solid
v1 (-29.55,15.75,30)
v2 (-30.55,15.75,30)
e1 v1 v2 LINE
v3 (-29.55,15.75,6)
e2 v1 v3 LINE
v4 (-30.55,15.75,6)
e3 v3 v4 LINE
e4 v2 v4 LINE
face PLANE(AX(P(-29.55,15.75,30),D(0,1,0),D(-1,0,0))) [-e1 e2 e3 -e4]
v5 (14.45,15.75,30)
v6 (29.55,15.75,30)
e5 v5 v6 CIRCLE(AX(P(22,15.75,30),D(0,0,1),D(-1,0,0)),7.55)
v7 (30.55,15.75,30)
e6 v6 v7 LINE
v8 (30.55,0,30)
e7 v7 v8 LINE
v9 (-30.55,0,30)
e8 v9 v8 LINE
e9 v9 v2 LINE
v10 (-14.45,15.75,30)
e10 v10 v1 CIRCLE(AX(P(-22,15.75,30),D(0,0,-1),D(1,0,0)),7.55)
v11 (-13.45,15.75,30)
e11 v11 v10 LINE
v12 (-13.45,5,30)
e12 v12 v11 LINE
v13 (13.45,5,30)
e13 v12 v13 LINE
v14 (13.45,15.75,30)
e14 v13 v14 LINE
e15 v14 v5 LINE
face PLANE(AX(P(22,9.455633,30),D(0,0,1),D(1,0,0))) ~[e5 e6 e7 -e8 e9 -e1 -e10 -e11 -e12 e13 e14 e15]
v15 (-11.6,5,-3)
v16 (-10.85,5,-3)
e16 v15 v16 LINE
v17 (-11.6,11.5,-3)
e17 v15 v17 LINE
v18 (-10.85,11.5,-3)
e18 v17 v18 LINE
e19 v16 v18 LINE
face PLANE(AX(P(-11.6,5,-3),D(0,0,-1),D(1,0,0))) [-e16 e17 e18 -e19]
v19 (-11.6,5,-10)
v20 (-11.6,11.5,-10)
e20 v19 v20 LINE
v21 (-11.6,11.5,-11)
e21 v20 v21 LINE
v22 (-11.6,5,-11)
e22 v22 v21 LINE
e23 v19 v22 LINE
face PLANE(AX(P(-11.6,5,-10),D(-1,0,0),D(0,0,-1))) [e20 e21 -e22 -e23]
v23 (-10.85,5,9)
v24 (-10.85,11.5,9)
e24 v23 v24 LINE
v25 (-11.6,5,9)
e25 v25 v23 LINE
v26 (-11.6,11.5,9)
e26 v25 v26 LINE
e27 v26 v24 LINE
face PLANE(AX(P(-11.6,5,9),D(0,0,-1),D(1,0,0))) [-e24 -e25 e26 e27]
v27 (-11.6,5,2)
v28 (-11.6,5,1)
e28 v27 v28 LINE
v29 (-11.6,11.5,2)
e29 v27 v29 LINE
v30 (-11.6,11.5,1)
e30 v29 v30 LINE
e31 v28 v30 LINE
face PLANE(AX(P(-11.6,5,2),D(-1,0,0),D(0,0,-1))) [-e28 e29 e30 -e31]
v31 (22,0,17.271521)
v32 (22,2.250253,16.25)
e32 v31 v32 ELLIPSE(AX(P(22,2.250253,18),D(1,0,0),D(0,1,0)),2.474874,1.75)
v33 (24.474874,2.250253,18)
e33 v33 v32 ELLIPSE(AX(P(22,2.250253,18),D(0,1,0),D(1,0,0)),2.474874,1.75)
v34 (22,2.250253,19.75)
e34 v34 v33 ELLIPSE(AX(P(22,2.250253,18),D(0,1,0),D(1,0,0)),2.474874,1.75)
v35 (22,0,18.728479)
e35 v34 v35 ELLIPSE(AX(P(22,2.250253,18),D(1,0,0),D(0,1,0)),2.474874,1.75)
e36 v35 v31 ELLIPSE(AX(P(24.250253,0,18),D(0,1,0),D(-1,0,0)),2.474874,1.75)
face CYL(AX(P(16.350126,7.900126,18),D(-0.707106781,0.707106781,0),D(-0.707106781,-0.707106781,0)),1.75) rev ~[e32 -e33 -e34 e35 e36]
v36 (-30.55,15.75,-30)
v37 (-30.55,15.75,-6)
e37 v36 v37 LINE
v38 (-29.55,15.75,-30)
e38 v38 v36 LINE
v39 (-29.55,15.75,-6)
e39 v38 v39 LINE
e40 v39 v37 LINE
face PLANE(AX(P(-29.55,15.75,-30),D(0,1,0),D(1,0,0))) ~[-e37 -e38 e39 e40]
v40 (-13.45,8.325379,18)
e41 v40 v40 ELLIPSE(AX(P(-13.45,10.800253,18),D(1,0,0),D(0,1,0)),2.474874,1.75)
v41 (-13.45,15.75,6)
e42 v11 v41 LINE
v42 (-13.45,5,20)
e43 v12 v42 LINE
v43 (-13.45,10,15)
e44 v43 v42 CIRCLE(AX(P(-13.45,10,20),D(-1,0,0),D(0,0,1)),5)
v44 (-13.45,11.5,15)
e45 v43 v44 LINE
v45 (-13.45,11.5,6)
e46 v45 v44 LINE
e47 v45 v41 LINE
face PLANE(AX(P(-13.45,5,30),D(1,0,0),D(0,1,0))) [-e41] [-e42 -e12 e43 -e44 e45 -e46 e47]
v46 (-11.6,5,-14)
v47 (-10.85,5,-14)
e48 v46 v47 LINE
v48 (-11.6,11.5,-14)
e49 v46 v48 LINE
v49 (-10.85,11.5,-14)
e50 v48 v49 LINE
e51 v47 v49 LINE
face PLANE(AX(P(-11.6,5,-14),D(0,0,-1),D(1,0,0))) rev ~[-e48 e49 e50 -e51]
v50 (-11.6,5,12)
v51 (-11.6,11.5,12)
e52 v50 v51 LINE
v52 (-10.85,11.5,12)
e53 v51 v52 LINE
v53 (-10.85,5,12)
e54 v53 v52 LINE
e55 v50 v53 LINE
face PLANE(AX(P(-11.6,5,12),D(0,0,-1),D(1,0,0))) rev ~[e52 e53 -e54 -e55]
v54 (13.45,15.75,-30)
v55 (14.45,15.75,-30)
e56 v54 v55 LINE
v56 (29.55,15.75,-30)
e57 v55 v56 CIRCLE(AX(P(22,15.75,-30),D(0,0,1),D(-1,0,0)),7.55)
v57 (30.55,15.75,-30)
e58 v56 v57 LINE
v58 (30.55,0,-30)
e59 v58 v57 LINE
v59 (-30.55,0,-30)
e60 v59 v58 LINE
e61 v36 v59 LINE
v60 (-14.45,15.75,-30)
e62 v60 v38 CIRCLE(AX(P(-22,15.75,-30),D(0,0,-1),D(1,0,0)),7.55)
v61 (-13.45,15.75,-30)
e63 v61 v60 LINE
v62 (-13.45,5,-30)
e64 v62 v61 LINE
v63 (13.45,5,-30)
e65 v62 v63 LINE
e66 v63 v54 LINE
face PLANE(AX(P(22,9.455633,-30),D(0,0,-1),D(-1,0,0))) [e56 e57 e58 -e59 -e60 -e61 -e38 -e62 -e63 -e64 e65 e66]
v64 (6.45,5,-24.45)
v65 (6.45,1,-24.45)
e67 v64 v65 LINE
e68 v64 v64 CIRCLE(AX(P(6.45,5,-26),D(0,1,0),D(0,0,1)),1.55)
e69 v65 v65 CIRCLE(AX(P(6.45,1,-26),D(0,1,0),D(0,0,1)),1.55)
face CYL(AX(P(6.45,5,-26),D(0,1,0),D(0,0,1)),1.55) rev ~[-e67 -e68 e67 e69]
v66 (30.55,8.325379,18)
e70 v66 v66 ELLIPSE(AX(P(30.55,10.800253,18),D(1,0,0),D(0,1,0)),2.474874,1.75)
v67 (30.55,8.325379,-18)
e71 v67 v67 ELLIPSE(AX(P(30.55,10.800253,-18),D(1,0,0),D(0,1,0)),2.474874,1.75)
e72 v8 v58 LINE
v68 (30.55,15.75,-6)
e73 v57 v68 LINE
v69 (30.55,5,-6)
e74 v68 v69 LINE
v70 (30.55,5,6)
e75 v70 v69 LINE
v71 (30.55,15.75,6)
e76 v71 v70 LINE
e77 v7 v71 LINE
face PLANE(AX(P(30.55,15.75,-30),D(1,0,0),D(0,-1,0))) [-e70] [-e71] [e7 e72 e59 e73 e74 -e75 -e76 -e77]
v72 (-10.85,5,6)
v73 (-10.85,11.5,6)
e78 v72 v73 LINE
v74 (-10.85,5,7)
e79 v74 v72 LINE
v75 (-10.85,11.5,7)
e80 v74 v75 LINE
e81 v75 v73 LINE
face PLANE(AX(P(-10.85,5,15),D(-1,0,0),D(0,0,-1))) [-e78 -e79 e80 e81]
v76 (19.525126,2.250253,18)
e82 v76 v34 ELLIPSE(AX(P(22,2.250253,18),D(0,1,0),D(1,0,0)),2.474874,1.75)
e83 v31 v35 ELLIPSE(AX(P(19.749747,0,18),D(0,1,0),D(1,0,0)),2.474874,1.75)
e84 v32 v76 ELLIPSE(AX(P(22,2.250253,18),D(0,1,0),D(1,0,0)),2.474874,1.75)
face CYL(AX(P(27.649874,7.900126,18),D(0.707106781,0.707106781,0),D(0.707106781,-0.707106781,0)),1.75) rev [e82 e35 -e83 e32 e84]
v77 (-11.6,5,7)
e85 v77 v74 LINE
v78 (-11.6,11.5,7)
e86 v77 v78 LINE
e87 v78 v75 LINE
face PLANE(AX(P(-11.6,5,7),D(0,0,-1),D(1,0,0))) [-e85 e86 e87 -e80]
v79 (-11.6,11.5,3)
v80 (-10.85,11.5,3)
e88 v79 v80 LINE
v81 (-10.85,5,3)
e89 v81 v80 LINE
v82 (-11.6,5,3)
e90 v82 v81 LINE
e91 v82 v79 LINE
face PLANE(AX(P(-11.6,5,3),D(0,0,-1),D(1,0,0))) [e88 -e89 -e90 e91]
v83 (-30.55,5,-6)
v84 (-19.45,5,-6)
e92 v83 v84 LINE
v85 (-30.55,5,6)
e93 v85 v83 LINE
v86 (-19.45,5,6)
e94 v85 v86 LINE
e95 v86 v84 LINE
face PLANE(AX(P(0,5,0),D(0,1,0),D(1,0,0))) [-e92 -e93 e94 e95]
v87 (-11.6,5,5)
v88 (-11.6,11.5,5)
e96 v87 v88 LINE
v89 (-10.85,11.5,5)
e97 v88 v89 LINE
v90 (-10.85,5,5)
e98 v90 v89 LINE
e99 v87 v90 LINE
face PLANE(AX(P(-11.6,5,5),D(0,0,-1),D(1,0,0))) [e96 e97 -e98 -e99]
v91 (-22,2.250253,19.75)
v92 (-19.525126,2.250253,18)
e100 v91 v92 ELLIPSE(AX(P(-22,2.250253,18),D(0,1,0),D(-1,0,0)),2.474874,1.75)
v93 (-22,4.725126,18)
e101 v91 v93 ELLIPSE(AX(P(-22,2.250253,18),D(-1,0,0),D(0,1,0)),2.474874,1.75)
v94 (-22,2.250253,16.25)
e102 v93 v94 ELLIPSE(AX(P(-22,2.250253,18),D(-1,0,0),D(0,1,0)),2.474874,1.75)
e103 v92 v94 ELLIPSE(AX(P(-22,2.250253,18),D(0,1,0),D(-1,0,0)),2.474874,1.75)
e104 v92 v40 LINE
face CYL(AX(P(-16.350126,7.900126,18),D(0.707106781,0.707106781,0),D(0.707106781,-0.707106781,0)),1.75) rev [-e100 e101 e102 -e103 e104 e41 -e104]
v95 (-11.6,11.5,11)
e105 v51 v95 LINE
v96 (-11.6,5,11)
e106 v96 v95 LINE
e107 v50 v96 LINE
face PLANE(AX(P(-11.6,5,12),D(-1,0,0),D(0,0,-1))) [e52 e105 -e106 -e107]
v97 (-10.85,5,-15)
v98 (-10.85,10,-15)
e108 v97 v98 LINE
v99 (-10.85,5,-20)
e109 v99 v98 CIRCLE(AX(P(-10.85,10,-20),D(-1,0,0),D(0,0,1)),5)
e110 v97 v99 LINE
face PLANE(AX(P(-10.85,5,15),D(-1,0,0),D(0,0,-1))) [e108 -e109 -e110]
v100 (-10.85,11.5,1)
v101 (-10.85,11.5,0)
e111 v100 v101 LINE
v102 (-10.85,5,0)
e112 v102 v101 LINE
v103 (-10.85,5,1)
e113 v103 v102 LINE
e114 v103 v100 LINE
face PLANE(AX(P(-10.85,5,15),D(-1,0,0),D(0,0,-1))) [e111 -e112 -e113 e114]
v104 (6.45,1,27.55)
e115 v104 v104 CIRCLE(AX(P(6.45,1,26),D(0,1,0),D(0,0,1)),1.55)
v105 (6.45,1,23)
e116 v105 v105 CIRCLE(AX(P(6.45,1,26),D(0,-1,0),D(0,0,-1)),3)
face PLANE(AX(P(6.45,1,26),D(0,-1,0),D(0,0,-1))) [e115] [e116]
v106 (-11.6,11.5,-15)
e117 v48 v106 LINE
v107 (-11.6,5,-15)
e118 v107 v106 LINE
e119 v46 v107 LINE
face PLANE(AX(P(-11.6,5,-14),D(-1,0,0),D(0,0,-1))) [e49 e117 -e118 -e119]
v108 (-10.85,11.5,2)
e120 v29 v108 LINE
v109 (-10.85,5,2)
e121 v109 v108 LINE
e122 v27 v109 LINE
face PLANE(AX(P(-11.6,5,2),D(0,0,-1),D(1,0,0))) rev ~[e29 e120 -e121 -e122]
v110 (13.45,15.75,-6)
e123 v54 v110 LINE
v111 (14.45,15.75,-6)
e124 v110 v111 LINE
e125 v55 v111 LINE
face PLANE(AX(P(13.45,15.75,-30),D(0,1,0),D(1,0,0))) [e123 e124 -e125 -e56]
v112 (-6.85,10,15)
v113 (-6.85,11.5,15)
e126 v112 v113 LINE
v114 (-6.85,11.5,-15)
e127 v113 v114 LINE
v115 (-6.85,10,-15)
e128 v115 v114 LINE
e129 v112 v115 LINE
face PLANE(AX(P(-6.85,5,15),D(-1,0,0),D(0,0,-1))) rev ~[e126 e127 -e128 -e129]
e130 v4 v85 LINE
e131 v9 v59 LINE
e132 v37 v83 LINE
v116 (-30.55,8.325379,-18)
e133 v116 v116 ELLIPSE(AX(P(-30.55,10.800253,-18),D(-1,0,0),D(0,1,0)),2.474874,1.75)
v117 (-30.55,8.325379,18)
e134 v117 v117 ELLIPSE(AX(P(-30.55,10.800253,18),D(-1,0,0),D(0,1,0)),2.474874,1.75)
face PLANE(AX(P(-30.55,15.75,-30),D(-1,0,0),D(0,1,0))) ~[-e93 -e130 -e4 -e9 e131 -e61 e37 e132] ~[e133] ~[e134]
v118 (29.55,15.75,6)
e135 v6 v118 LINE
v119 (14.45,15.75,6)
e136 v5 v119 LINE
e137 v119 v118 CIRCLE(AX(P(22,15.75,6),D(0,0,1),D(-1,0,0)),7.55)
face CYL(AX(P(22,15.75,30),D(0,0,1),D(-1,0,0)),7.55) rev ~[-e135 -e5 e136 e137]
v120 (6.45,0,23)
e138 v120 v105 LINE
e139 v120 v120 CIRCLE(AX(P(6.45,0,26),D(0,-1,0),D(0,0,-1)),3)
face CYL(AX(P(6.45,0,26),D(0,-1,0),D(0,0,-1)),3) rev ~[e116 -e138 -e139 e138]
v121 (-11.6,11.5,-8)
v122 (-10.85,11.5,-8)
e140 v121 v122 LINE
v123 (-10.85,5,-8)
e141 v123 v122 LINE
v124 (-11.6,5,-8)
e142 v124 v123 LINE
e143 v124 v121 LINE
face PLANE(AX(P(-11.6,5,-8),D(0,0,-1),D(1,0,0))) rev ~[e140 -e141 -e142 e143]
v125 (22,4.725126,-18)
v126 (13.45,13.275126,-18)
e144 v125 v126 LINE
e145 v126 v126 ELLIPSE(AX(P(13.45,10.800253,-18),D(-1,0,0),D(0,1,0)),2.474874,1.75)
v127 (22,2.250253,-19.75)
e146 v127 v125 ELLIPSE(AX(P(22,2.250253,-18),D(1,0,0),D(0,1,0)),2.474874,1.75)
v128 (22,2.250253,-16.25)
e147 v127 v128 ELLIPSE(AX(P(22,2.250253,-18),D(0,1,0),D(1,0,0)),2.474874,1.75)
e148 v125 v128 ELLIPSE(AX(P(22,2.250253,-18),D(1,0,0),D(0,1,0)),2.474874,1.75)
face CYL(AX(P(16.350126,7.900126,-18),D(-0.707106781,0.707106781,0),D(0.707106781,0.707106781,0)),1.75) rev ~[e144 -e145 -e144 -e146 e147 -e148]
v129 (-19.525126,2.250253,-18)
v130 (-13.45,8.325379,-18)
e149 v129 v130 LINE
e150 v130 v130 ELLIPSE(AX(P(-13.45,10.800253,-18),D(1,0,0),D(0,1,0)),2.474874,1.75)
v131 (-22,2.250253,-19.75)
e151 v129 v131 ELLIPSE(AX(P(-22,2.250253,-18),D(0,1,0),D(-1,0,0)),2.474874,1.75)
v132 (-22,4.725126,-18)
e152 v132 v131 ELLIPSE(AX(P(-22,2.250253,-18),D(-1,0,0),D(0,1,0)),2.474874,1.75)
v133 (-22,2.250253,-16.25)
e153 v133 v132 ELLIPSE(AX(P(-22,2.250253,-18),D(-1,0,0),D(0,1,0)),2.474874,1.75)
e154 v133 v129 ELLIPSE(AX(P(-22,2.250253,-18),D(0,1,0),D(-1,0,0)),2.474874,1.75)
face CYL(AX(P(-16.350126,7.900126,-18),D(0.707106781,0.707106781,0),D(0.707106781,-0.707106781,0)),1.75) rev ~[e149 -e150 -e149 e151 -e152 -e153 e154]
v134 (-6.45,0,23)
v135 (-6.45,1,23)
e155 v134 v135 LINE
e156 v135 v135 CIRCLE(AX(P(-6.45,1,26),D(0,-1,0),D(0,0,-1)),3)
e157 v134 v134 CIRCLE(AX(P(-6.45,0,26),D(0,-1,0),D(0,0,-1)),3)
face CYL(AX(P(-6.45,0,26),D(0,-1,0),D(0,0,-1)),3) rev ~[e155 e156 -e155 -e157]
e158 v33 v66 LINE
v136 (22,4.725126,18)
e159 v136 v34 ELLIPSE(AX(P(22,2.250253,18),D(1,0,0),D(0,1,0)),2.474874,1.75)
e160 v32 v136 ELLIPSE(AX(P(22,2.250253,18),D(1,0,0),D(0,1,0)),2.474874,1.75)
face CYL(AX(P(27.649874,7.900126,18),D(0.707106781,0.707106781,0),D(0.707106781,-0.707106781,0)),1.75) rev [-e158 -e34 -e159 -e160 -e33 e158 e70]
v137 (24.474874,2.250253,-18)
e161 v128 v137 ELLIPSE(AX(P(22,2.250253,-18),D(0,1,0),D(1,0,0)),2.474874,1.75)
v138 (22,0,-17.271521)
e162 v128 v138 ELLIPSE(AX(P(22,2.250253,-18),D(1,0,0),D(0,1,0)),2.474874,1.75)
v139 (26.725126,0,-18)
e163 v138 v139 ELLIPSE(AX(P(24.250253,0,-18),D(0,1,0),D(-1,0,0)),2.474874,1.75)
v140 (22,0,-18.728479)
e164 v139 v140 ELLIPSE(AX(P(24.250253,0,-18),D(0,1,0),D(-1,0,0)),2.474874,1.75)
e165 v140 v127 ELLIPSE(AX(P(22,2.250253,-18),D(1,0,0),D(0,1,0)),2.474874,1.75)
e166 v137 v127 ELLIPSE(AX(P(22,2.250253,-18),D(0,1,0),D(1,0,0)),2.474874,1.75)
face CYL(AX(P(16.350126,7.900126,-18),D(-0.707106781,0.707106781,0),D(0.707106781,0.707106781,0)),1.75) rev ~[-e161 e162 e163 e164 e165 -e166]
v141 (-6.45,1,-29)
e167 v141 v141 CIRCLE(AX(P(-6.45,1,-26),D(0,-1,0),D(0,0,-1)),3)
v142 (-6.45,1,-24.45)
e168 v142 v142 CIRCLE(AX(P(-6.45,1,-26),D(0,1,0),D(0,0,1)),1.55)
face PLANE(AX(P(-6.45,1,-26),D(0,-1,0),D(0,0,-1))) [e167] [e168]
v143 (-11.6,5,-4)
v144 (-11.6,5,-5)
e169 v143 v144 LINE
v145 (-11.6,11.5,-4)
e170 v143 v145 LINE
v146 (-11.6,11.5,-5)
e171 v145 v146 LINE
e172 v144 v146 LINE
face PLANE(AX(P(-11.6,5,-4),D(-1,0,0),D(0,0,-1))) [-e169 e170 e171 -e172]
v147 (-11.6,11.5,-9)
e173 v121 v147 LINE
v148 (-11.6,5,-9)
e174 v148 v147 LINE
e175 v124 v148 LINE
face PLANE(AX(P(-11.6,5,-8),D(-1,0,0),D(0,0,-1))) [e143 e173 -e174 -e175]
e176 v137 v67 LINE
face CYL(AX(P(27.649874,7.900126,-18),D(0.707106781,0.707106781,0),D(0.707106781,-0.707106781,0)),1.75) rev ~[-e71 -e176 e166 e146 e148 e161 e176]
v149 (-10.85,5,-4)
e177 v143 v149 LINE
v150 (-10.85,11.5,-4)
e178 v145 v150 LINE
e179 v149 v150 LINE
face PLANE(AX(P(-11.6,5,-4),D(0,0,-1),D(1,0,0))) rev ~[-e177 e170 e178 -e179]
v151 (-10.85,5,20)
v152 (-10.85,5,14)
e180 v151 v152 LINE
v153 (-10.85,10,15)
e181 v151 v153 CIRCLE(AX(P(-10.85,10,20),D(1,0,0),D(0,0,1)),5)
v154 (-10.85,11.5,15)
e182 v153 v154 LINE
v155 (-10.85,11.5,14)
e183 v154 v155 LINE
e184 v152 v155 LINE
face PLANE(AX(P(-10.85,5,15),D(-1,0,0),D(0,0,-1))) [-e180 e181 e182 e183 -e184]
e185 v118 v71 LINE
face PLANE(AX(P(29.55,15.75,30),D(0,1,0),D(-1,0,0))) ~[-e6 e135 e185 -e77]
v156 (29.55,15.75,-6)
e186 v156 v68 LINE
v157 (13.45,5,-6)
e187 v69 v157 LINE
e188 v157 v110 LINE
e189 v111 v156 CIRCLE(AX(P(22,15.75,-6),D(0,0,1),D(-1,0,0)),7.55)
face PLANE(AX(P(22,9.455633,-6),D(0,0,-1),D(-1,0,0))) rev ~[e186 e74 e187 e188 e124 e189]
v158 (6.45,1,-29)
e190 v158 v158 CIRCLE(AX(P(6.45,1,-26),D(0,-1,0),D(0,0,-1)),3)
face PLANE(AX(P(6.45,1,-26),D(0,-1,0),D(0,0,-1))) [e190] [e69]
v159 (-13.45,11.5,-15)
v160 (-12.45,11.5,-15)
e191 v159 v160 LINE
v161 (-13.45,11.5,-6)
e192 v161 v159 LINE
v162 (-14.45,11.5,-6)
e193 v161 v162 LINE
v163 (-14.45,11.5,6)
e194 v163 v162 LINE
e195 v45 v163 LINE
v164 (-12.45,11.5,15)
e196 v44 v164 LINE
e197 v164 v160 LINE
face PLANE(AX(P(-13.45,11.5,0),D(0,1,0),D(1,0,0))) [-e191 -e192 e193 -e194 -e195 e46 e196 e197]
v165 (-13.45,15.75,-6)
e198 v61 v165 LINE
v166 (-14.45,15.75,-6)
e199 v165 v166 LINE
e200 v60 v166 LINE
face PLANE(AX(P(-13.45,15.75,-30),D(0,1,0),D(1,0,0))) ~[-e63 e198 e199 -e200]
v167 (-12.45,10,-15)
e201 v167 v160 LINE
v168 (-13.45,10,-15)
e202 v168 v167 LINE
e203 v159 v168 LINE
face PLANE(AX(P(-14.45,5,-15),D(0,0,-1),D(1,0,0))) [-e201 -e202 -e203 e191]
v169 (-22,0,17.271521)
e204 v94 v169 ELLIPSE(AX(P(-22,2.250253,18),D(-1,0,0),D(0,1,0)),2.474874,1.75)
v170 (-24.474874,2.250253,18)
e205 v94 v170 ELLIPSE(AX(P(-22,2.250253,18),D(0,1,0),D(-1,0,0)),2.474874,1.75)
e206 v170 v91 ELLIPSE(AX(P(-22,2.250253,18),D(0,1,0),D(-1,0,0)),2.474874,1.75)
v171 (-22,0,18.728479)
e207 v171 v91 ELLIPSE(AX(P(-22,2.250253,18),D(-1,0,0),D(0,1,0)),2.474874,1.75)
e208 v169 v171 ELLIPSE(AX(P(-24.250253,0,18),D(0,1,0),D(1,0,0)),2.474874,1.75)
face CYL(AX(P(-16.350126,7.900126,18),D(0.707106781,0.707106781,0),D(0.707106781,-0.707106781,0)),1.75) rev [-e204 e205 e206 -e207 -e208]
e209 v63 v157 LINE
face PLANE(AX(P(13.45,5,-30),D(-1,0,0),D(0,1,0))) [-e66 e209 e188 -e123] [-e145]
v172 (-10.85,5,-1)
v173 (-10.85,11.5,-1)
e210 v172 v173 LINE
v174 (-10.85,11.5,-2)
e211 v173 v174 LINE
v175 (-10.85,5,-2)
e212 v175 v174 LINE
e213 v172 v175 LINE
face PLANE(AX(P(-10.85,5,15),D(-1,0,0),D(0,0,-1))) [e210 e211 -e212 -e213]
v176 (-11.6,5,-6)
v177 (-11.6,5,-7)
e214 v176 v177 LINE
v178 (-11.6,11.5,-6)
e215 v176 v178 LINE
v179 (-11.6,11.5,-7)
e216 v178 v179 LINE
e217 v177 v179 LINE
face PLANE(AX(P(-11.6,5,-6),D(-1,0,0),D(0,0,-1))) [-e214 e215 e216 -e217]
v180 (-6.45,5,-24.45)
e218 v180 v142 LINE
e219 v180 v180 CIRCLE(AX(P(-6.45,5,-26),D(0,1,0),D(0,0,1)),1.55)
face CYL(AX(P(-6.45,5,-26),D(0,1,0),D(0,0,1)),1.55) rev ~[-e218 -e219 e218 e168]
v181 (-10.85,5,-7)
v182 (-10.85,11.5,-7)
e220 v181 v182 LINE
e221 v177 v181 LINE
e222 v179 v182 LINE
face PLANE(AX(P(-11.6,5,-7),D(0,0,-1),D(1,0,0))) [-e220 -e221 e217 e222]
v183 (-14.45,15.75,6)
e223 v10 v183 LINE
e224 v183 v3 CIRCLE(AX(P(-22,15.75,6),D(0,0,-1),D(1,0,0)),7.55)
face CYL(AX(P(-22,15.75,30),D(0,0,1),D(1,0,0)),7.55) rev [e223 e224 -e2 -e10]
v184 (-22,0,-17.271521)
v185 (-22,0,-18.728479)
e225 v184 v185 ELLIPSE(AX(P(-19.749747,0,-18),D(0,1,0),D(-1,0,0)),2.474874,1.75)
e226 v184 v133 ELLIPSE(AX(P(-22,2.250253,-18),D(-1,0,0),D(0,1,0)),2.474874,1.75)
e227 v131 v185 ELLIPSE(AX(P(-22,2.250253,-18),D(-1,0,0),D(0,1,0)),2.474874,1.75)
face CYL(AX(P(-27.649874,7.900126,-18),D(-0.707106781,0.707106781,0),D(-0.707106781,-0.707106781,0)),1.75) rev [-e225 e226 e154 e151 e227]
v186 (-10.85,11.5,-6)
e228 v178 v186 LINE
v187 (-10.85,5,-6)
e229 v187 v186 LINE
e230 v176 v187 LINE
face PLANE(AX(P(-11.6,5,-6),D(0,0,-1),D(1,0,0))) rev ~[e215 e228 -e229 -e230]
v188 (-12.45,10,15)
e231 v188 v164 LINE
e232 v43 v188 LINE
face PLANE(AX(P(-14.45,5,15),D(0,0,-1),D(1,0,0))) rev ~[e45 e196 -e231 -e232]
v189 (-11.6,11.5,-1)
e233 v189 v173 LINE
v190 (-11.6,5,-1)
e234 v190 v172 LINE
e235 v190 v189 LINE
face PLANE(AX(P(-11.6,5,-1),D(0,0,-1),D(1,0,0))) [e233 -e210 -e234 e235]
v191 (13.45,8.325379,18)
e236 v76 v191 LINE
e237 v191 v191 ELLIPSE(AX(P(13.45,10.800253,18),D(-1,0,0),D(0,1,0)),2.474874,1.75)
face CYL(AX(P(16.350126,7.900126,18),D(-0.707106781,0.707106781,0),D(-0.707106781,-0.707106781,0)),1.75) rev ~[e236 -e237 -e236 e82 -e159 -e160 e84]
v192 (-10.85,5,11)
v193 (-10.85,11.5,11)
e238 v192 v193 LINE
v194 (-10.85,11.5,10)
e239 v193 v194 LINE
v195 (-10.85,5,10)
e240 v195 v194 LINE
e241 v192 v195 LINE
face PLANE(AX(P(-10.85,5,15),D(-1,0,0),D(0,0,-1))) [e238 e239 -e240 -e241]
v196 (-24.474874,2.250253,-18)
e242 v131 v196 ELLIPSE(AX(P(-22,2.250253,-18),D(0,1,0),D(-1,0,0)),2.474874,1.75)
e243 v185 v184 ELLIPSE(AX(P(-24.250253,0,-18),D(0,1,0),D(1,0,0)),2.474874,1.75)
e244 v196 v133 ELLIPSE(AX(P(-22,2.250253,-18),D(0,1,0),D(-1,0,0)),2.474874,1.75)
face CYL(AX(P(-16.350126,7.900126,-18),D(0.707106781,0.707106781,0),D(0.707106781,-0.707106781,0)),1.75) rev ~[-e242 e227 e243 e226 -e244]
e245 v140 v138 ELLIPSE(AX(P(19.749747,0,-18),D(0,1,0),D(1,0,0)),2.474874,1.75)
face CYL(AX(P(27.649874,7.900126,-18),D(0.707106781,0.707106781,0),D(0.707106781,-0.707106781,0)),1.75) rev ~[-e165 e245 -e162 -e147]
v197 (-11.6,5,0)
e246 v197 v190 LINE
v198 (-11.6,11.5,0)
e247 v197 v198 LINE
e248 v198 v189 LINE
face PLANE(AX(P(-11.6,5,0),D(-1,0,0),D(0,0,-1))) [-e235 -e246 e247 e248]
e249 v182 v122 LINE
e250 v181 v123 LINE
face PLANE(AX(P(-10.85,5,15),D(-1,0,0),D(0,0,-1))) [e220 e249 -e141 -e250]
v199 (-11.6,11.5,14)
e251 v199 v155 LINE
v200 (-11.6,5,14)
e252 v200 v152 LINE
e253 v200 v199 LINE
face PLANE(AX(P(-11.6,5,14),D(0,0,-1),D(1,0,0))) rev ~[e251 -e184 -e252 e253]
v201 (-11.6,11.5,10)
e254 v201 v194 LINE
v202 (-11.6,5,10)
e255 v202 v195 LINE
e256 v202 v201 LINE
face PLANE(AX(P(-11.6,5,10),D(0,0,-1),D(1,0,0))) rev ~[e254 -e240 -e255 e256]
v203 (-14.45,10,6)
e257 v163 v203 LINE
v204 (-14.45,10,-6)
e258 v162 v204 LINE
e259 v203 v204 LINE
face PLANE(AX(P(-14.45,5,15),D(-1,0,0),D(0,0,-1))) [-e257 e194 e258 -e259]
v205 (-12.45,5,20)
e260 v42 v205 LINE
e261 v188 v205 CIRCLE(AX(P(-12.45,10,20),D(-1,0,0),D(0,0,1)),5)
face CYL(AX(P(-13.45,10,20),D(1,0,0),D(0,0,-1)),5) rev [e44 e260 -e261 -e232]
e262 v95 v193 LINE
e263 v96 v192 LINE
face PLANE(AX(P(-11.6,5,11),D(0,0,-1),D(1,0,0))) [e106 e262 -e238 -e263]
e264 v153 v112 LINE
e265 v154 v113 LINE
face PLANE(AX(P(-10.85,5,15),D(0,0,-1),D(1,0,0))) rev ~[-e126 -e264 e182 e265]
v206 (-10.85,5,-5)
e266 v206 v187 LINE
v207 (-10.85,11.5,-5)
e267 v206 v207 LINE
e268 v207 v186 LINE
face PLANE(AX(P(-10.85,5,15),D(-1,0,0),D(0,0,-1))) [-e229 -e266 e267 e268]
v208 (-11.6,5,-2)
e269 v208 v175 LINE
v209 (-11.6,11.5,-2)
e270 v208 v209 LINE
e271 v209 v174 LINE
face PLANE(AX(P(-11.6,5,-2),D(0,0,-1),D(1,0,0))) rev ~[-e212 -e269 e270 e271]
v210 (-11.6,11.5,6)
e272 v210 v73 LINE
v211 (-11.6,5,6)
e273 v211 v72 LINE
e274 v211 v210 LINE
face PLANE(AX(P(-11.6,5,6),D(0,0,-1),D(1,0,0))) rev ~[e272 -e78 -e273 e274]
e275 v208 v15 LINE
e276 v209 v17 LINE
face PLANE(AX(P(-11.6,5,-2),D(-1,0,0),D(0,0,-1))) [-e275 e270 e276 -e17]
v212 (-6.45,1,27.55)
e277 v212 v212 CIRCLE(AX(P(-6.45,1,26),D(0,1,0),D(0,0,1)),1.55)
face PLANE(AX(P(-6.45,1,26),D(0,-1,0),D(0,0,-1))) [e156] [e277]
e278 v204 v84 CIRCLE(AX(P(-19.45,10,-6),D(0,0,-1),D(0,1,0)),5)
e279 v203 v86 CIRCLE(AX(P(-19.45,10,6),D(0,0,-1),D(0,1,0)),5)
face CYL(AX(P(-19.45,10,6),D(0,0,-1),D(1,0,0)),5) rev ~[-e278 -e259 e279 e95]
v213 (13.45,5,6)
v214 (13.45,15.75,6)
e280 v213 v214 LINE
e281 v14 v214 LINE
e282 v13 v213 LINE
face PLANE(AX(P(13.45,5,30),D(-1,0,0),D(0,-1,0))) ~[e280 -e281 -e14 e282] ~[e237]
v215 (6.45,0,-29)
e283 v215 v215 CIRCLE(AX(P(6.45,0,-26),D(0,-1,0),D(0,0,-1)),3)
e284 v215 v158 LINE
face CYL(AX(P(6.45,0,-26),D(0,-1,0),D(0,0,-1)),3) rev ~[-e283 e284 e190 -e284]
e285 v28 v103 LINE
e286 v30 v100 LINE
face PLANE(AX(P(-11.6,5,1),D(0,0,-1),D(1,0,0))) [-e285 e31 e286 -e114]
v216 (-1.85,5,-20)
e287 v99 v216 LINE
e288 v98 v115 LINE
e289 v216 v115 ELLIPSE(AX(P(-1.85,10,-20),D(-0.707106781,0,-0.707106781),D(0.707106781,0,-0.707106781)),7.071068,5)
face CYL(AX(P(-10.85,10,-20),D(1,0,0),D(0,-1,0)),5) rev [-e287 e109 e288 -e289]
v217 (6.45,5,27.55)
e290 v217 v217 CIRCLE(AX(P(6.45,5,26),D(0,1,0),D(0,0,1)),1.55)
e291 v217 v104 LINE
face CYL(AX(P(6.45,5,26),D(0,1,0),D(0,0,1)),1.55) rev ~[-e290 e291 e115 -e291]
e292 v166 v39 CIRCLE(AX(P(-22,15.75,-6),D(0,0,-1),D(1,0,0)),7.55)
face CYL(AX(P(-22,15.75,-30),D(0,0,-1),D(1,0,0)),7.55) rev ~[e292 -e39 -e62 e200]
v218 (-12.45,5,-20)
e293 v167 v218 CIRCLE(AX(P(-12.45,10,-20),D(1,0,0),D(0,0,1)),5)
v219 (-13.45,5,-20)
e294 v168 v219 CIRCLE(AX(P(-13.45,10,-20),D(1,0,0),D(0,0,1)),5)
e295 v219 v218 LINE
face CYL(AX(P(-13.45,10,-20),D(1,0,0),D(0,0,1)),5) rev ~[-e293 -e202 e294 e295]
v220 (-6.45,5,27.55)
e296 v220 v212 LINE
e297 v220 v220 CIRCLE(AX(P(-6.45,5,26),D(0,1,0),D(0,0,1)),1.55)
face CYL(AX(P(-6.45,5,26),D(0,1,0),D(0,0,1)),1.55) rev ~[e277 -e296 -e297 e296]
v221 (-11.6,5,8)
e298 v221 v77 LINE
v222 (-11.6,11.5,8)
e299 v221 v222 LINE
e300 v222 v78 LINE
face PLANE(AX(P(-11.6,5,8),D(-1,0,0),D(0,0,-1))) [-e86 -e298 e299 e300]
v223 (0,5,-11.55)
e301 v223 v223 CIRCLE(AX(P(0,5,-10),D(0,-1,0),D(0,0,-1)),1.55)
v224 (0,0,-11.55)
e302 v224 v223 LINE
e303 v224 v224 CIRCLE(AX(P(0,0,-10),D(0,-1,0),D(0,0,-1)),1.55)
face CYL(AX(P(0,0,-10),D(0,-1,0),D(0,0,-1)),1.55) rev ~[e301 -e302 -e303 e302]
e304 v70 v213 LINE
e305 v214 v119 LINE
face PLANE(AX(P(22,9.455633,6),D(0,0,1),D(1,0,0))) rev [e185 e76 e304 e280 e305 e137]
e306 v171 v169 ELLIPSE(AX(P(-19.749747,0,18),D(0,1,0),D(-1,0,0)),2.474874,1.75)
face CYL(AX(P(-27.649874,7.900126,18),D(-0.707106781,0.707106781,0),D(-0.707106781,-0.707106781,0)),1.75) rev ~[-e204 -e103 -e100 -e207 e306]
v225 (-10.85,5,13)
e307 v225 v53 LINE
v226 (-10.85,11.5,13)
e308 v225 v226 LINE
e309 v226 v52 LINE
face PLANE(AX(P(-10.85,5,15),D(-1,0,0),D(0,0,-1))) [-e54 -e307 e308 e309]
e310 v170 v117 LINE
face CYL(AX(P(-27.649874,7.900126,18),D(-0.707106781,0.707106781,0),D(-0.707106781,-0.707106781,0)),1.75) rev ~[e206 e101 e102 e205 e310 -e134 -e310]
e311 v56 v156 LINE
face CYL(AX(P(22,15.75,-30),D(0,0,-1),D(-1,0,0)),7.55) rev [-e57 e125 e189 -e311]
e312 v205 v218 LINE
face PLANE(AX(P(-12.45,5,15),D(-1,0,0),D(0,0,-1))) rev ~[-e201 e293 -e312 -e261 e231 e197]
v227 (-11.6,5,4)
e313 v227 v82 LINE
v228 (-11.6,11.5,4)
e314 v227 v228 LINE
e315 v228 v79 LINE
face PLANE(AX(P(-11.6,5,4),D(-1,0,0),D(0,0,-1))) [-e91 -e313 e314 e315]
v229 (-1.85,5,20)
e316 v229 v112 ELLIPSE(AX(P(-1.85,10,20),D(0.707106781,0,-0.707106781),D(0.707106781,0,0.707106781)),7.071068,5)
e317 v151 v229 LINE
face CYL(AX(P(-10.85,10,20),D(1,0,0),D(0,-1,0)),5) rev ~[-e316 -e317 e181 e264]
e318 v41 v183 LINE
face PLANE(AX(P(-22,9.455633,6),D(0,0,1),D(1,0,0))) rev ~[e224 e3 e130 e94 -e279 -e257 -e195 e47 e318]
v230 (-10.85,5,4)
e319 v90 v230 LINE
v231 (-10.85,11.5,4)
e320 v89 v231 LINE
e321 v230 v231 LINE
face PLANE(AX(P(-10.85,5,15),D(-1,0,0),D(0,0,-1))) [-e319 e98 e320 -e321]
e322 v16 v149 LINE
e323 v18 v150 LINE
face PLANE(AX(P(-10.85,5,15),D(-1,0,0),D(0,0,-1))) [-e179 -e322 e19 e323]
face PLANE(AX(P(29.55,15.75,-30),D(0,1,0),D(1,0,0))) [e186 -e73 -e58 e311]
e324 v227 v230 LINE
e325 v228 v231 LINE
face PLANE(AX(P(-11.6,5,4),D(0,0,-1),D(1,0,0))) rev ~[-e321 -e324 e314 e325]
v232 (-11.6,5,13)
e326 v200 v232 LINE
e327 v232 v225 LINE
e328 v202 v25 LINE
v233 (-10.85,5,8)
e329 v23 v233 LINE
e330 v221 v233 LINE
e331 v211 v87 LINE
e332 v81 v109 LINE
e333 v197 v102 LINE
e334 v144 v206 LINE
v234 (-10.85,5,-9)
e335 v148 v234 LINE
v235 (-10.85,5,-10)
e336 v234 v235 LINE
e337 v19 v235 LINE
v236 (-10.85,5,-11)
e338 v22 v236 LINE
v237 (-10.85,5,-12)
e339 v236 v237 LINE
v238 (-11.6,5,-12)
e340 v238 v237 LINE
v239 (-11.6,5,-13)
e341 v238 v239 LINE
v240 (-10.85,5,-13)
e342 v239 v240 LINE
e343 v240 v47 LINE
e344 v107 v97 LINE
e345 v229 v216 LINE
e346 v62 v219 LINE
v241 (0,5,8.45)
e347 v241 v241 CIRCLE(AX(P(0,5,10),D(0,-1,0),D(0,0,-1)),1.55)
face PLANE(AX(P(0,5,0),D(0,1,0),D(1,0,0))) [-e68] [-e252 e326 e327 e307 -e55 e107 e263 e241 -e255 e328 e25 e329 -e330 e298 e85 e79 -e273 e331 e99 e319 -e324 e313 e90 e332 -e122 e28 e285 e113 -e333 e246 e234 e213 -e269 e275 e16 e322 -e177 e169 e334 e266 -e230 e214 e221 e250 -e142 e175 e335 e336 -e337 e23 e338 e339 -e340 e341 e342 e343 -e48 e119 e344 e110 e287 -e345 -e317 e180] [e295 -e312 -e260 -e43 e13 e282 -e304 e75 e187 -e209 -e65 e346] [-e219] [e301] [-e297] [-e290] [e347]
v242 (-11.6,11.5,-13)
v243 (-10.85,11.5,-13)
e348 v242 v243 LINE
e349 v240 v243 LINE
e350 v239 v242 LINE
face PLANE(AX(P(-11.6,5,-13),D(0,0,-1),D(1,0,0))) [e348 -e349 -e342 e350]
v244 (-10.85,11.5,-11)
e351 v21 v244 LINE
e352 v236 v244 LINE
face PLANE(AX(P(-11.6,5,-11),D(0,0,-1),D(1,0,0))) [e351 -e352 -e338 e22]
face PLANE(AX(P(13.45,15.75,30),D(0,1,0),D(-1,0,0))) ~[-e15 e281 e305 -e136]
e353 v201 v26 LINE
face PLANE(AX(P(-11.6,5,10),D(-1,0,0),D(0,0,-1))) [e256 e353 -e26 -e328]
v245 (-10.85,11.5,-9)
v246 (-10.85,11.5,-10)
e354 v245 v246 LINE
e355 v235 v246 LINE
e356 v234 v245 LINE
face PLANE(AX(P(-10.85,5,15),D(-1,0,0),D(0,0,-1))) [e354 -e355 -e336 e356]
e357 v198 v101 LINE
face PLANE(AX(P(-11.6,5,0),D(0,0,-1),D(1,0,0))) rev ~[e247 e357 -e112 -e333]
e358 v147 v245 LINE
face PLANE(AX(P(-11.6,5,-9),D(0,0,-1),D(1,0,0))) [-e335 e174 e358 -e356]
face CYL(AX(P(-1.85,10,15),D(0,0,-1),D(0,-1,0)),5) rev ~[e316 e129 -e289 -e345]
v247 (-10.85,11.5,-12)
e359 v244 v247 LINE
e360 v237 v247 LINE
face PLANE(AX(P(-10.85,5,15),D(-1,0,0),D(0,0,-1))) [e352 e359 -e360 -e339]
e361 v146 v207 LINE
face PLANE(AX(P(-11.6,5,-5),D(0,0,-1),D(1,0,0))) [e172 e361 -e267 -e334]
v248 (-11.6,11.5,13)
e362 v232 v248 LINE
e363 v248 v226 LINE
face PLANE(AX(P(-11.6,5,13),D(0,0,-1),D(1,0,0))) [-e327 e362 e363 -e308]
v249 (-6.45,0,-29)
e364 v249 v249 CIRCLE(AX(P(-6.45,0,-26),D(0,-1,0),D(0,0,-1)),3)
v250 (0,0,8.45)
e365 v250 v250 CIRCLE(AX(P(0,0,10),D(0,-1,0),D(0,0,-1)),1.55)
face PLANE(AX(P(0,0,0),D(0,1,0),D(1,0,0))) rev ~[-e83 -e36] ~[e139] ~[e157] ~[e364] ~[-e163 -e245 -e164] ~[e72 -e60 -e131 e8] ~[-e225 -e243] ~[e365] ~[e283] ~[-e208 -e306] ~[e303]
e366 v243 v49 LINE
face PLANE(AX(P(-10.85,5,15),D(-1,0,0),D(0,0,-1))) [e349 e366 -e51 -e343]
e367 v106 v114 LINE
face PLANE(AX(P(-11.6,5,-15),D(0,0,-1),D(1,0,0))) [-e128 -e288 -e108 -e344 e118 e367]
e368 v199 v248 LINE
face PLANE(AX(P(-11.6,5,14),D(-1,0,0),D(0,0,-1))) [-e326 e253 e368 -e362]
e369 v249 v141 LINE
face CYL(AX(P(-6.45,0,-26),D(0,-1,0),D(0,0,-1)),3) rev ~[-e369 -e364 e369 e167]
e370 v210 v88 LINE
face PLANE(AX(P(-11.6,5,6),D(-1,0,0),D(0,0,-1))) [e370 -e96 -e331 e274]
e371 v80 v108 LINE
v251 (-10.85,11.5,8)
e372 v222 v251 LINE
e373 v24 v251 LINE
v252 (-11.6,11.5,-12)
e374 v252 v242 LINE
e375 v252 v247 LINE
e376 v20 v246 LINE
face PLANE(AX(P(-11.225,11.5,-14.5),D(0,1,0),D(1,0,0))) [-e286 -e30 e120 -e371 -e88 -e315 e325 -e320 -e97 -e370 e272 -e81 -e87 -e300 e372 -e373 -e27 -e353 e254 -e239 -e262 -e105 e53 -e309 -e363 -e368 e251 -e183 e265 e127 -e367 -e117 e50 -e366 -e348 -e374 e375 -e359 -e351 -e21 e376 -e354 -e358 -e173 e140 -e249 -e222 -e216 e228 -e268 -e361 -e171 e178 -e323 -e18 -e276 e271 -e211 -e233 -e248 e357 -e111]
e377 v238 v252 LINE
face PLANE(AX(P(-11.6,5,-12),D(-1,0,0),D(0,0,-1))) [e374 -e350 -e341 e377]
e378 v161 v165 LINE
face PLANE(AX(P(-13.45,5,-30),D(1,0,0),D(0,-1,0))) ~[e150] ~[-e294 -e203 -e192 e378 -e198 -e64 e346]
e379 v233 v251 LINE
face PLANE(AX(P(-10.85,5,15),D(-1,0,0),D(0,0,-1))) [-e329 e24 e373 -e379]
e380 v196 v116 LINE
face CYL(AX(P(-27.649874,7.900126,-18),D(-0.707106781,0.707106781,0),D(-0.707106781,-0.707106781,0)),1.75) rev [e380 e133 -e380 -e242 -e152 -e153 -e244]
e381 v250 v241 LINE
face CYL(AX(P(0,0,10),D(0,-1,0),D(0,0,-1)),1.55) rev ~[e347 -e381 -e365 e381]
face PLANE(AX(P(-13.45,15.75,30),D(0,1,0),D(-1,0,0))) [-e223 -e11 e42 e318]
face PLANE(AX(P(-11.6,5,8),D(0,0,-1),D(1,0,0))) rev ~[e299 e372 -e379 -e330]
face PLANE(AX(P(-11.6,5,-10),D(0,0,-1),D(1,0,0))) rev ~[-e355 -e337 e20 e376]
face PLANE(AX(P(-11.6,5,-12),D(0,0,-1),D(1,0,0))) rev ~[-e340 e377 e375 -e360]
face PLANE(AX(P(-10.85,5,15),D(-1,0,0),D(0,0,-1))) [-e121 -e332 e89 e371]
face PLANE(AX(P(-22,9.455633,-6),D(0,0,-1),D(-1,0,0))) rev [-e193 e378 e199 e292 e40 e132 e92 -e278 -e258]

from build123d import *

# Parameters (mm, degrees)
SKETCH1_W               = 61.1
SKETCH1_H               = 60
BOSS_EXTRUDE1_DEPTH     = 5
BOSS_EXTRUDE2_DEPTH     = 24
MIRROR2_COPY_1_DEPTH    = 24
MIRROR2_COPY_2_DEPTH    = 24
SKETCH3_R               = 1.75
CUT_EXTRUDE1_DEPTH      = 60.592417722
MIRROR4_COPY_1_SKETCH_R = 1.75
MIRROR4_COPY_1_DEPTH    = 60.592417722
MIRROR5_COPY_1_SKETCH_R = 1.75
MIRROR5_COPY_1_DEPTH    = 60.592417722
MIRROR5_COPY_2_SKETCH_R = 1.75
MIRROR5_COPY_2_DEPTH    = 60.592417722
MIRROR5_COPY_3_SKETCH_R = 1.75
MIRROR5_COPY_3_DEPTH    = 60.592417722
SKETCH10_R              = 1.55
CUT_EXTRUDE7_DEPTH      = 8
SKETCH11_R              = 3
CUT_EXTRUDE8_DEPTH      = 1
SKETCH12_W              = 4
SKETCH12_H              = 30
SKETCH12_W_2            = 2
BOSS_EXTRUDE5_DEPTH     = 6.5
FILLET1_R               = 5
SKETCH12_4_W            = 0.75
SKETCH12_4_H            = 1
BOSS_EXTRUDE6_DEPTH     = 6.5
LPATTERN1_COUNT         = 15
LPATTERN1_PITCH         = 2
SKETCH13_R              = 1.55
CUT_EXTRUDE9_DEPTH      = 6.5


with BuildPart() as part:
    # Sketch1 → Boss-Extrude1 (new body)
    with BuildSketch(Plane(origin=(0, 0, 0), x_dir=(1, 0, 0), z_dir=(0, 1, 0))):
        Rectangle(SKETCH1_W, SKETCH1_H)
    extrude(amount=BOSS_EXTRUDE1_DEPTH)

    # Sketch2 → Boss-Extrude2 (add)
    with BuildSketch(Plane.XY.offset(30)):
        with BuildLine():
            Line((-30.55, 15.75), (-30.55, 5))
            Line((-30.55, 5), (-13.45, 5))
            Line((-13.45, 5), (-13.45, 15.75))
            Line((-13.45, 15.75), (-14.45, 15.75))
            ThreePointArc((-14.45, 15.75), (-22, 8.2), (-29.55, 15.75))
            Line((-29.55, 15.75), (-30.55, 15.75))
        make_face()
    boss_extrude2 = extrude(amount=-BOSS_EXTRUDE2_DEPTH)

    # Mirror1: Boss-Extrude2 across plane
    add(boss_extrude2.mirror(Plane.XY))

    # Mirror2 copy 1 sketch → Mirror2 copy 1 (add)
    with BuildSketch(Plane(origin=(0, 0, -30), x_dir=(-1, 0, 0), z_dir=(0, 0, -1))):
        with BuildLine():
            Line((-30.55, 15.75), (-30.55, 5))
            Line((-30.55, 5), (-13.45, 5))
            Line((-13.45, 5), (-13.45, 15.75))
            Line((-13.45, 15.75), (-14.45, 15.75))
            ThreePointArc((-14.45, 15.75), (-22, 8.2), (-29.55, 15.75))
            Line((-29.55, 15.75), (-30.55, 15.75))
        make_face()
    extrude(amount=-MIRROR2_COPY_1_DEPTH)

    # Mirror2 copy 2 sketch → Mirror2 copy 2 (add)
    with BuildSketch(Plane(origin=(0, 0, 30), x_dir=(-1, 0, 0), z_dir=(0, 0, 1))):
        with BuildLine():
            Line((-30.55, -15.75), (-30.55, -5))
            Line((-30.55, -5), (-13.45, -5))
            Line((-13.45, -5), (-13.45, -15.75))
            Line((-13.45, -15.75), (-14.45, -15.75))
            ThreePointArc((-14.45, -15.75), (-22, -8.2), (-29.55, -15.75))
            Line((-29.55, -15.75), (-30.55, -15.75))
        make_face()
    extrude(amount=-MIRROR2_COPY_2_DEPTH)

    # Sketch3 → Cut-Extrude1 (cut, symmetric)
    with BuildSketch(Plane(origin=(-17.775, 17.775, 0), x_dir=(0.7071067811865477, 0.7071067811865475, 0), z_dir=(-0.7071067811865475, 0.7071067811865477, 0))):
        with Locations((-13.965180362, -18)):
            Circle(SKETCH3_R)
    cut_extrude1 = extrude(amount=CUT_EXTRUDE1_DEPTH, both=True, mode=Mode.SUBTRACT)

    # Mirror3: Cut-Extrude1 across plane
    add(cut_extrude1.mirror(Plane.ZY.offset(22)), mode=Mode.SUBTRACT)

    # Mirror4: Cut-Extrude1 across plane
    add(cut_extrude1.mirror(Plane.XY), mode=Mode.SUBTRACT)

    # Mirror4 copy 1 sketch → Mirror4 copy 1 (cut, symmetric)
    with BuildSketch(Plane(origin=(-26.225, 17.775, 0), x_dir=(-0.7071067811865477, 0.7071067811865475, 0), z_dir=(0.7071067811865475, 0.7071067811865477, 0))):
        with Locations((-13.965180362, -18)):
            Circle(MIRROR4_COPY_1_SKETCH_R)
    extrude(amount=MIRROR4_COPY_1_DEPTH, both=True, mode=Mode.SUBTRACT)

    # Mirror5: Cut-Extrude1 across plane
    add(cut_extrude1.mirror(Plane(origin=(0, 0, 0), x_dir=(0, 0, 1), z_dir=(1, 0, 0))), mode=Mode.SUBTRACT)

    # Mirror5 copy 1 sketch → Mirror5 copy 1 (cut, symmetric)
    with BuildSketch(Plane(origin=(26.225, 17.775, 0), x_dir=(0.7071067811865477, 0.7071067811865475, 0), z_dir=(-0.7071067811865475, 0.7071067811865477, 0))):
        with Locations((-13.965180362, -18)):
            Circle(MIRROR5_COPY_1_SKETCH_R)
    extrude(amount=MIRROR5_COPY_1_DEPTH, both=True, mode=Mode.SUBTRACT)

    # Mirror5 copy 2 sketch → Mirror5 copy 2 (cut, symmetric)
    with BuildSketch(Plane(origin=(17.775, 17.775, 0), x_dir=(-0.7071067811865477, 0.7071067811865475, 0), z_dir=(0.7071067811865475, 0.7071067811865477, 0))):
        with Locations((-13.965180362, -18)):
            Circle(MIRROR5_COPY_2_SKETCH_R)
    extrude(amount=MIRROR5_COPY_2_DEPTH, both=True, mode=Mode.SUBTRACT)

    # Mirror5 copy 3 sketch → Mirror5 copy 3 (cut, symmetric)
    with BuildSketch(Plane(origin=(26.225, 17.775, 0), x_dir=(0.7071067811865477, 0.7071067811865475, 0), z_dir=(-0.7071067811865475, 0.7071067811865477, 0))):
        with Locations((-13.965180362, 18)):
            Circle(MIRROR5_COPY_3_SKETCH_R)
    extrude(amount=MIRROR5_COPY_3_DEPTH, both=True, mode=Mode.SUBTRACT)

    # Sketch10 → Cut-Extrude7 (cut)
    with BuildSketch(Plane(origin=(0, 5, 0), x_dir=(1, 0, 0), z_dir=(0, 1, 0))):
        with Locations((-6.45, -26)):
            Circle(SKETCH10_R)
        with Locations((-6.45, 26)):
            Circle(SKETCH10_R)
        with Locations((6.45, 26)):
            Circle(SKETCH10_R)
        with Locations((6.45, -26)):
            Circle(SKETCH10_R)
    extrude(amount=-CUT_EXTRUDE7_DEPTH, mode=Mode.SUBTRACT)

    # Sketch11 → Cut-Extrude8 (cut)
    with BuildSketch(Plane.XZ):
        with Locations((-6.45, 26)):
            Circle(SKETCH11_R)
        with Locations((6.45, 26)):
            Circle(SKETCH11_R)
        with Locations((6.45, -26)):
            Circle(SKETCH11_R)
        with Locations((-6.45, -26)):
            Circle(SKETCH11_R)
    extrude(amount=-CUT_EXTRUDE8_DEPTH, mode=Mode.SUBTRACT)

    # Sketch12 → Boss-Extrude5 (add)
    with BuildSketch(Plane(origin=(0, 5, 0), x_dir=(1, 0, 0), z_dir=(0, 1, 0))):
        with Locations((-8.85, 0)):
            Rectangle(SKETCH12_W, SKETCH12_H)
        with Locations((-13.45, 0)):
            Rectangle(SKETCH12_W_2, SKETCH12_H)
    extrude(amount=BOSS_EXTRUDE5_DEPTH)

    # Fillet1
    fillet1_edges = [part.edges().sort_by_distance(p)[0] for p in [
        (-8.85, 5, 15),
        (-6.85, 5, 0),
        (-8.85, 5, -15),
        (-12.95, 5, -15),
        (-14.45, 5, 0),
        (-12.95, 5, 15),
    ]]
    fillet(fillet1_edges, radius=FILLET1_R)

    # Sketch12<4> → Boss-Extrude6 (add)
    with BuildSketch(Plane(origin=(0, 5, 0), x_dir=(1, 0, 0), z_dir=(0, 1, 0))):
        with Locations((-11.225, 14.5)):
            Rectangle(SKETCH12_4_W, SKETCH12_4_H)
    boss_extrude6 = extrude(amount=BOSS_EXTRUDE6_DEPTH)

    # LPattern1: Boss-Extrude6 ×15
    with Locations(*[(0, 0, i * LPATTERN1_PITCH) for i in range(1, LPATTERN1_COUNT)]):
        add(boss_extrude6)

    # Sketch13 → Cut-Extrude9 (cut)
    with BuildSketch(Plane.XZ):
        with Locations((0, 10)):
            Circle(SKETCH13_R)
        with Locations((0, -10)):
            Circle(SKETCH13_R)
    extrude(amount=-CUT_EXTRUDE9_DEPTH, mode=Mode.SUBTRACT)


solid = part.part
